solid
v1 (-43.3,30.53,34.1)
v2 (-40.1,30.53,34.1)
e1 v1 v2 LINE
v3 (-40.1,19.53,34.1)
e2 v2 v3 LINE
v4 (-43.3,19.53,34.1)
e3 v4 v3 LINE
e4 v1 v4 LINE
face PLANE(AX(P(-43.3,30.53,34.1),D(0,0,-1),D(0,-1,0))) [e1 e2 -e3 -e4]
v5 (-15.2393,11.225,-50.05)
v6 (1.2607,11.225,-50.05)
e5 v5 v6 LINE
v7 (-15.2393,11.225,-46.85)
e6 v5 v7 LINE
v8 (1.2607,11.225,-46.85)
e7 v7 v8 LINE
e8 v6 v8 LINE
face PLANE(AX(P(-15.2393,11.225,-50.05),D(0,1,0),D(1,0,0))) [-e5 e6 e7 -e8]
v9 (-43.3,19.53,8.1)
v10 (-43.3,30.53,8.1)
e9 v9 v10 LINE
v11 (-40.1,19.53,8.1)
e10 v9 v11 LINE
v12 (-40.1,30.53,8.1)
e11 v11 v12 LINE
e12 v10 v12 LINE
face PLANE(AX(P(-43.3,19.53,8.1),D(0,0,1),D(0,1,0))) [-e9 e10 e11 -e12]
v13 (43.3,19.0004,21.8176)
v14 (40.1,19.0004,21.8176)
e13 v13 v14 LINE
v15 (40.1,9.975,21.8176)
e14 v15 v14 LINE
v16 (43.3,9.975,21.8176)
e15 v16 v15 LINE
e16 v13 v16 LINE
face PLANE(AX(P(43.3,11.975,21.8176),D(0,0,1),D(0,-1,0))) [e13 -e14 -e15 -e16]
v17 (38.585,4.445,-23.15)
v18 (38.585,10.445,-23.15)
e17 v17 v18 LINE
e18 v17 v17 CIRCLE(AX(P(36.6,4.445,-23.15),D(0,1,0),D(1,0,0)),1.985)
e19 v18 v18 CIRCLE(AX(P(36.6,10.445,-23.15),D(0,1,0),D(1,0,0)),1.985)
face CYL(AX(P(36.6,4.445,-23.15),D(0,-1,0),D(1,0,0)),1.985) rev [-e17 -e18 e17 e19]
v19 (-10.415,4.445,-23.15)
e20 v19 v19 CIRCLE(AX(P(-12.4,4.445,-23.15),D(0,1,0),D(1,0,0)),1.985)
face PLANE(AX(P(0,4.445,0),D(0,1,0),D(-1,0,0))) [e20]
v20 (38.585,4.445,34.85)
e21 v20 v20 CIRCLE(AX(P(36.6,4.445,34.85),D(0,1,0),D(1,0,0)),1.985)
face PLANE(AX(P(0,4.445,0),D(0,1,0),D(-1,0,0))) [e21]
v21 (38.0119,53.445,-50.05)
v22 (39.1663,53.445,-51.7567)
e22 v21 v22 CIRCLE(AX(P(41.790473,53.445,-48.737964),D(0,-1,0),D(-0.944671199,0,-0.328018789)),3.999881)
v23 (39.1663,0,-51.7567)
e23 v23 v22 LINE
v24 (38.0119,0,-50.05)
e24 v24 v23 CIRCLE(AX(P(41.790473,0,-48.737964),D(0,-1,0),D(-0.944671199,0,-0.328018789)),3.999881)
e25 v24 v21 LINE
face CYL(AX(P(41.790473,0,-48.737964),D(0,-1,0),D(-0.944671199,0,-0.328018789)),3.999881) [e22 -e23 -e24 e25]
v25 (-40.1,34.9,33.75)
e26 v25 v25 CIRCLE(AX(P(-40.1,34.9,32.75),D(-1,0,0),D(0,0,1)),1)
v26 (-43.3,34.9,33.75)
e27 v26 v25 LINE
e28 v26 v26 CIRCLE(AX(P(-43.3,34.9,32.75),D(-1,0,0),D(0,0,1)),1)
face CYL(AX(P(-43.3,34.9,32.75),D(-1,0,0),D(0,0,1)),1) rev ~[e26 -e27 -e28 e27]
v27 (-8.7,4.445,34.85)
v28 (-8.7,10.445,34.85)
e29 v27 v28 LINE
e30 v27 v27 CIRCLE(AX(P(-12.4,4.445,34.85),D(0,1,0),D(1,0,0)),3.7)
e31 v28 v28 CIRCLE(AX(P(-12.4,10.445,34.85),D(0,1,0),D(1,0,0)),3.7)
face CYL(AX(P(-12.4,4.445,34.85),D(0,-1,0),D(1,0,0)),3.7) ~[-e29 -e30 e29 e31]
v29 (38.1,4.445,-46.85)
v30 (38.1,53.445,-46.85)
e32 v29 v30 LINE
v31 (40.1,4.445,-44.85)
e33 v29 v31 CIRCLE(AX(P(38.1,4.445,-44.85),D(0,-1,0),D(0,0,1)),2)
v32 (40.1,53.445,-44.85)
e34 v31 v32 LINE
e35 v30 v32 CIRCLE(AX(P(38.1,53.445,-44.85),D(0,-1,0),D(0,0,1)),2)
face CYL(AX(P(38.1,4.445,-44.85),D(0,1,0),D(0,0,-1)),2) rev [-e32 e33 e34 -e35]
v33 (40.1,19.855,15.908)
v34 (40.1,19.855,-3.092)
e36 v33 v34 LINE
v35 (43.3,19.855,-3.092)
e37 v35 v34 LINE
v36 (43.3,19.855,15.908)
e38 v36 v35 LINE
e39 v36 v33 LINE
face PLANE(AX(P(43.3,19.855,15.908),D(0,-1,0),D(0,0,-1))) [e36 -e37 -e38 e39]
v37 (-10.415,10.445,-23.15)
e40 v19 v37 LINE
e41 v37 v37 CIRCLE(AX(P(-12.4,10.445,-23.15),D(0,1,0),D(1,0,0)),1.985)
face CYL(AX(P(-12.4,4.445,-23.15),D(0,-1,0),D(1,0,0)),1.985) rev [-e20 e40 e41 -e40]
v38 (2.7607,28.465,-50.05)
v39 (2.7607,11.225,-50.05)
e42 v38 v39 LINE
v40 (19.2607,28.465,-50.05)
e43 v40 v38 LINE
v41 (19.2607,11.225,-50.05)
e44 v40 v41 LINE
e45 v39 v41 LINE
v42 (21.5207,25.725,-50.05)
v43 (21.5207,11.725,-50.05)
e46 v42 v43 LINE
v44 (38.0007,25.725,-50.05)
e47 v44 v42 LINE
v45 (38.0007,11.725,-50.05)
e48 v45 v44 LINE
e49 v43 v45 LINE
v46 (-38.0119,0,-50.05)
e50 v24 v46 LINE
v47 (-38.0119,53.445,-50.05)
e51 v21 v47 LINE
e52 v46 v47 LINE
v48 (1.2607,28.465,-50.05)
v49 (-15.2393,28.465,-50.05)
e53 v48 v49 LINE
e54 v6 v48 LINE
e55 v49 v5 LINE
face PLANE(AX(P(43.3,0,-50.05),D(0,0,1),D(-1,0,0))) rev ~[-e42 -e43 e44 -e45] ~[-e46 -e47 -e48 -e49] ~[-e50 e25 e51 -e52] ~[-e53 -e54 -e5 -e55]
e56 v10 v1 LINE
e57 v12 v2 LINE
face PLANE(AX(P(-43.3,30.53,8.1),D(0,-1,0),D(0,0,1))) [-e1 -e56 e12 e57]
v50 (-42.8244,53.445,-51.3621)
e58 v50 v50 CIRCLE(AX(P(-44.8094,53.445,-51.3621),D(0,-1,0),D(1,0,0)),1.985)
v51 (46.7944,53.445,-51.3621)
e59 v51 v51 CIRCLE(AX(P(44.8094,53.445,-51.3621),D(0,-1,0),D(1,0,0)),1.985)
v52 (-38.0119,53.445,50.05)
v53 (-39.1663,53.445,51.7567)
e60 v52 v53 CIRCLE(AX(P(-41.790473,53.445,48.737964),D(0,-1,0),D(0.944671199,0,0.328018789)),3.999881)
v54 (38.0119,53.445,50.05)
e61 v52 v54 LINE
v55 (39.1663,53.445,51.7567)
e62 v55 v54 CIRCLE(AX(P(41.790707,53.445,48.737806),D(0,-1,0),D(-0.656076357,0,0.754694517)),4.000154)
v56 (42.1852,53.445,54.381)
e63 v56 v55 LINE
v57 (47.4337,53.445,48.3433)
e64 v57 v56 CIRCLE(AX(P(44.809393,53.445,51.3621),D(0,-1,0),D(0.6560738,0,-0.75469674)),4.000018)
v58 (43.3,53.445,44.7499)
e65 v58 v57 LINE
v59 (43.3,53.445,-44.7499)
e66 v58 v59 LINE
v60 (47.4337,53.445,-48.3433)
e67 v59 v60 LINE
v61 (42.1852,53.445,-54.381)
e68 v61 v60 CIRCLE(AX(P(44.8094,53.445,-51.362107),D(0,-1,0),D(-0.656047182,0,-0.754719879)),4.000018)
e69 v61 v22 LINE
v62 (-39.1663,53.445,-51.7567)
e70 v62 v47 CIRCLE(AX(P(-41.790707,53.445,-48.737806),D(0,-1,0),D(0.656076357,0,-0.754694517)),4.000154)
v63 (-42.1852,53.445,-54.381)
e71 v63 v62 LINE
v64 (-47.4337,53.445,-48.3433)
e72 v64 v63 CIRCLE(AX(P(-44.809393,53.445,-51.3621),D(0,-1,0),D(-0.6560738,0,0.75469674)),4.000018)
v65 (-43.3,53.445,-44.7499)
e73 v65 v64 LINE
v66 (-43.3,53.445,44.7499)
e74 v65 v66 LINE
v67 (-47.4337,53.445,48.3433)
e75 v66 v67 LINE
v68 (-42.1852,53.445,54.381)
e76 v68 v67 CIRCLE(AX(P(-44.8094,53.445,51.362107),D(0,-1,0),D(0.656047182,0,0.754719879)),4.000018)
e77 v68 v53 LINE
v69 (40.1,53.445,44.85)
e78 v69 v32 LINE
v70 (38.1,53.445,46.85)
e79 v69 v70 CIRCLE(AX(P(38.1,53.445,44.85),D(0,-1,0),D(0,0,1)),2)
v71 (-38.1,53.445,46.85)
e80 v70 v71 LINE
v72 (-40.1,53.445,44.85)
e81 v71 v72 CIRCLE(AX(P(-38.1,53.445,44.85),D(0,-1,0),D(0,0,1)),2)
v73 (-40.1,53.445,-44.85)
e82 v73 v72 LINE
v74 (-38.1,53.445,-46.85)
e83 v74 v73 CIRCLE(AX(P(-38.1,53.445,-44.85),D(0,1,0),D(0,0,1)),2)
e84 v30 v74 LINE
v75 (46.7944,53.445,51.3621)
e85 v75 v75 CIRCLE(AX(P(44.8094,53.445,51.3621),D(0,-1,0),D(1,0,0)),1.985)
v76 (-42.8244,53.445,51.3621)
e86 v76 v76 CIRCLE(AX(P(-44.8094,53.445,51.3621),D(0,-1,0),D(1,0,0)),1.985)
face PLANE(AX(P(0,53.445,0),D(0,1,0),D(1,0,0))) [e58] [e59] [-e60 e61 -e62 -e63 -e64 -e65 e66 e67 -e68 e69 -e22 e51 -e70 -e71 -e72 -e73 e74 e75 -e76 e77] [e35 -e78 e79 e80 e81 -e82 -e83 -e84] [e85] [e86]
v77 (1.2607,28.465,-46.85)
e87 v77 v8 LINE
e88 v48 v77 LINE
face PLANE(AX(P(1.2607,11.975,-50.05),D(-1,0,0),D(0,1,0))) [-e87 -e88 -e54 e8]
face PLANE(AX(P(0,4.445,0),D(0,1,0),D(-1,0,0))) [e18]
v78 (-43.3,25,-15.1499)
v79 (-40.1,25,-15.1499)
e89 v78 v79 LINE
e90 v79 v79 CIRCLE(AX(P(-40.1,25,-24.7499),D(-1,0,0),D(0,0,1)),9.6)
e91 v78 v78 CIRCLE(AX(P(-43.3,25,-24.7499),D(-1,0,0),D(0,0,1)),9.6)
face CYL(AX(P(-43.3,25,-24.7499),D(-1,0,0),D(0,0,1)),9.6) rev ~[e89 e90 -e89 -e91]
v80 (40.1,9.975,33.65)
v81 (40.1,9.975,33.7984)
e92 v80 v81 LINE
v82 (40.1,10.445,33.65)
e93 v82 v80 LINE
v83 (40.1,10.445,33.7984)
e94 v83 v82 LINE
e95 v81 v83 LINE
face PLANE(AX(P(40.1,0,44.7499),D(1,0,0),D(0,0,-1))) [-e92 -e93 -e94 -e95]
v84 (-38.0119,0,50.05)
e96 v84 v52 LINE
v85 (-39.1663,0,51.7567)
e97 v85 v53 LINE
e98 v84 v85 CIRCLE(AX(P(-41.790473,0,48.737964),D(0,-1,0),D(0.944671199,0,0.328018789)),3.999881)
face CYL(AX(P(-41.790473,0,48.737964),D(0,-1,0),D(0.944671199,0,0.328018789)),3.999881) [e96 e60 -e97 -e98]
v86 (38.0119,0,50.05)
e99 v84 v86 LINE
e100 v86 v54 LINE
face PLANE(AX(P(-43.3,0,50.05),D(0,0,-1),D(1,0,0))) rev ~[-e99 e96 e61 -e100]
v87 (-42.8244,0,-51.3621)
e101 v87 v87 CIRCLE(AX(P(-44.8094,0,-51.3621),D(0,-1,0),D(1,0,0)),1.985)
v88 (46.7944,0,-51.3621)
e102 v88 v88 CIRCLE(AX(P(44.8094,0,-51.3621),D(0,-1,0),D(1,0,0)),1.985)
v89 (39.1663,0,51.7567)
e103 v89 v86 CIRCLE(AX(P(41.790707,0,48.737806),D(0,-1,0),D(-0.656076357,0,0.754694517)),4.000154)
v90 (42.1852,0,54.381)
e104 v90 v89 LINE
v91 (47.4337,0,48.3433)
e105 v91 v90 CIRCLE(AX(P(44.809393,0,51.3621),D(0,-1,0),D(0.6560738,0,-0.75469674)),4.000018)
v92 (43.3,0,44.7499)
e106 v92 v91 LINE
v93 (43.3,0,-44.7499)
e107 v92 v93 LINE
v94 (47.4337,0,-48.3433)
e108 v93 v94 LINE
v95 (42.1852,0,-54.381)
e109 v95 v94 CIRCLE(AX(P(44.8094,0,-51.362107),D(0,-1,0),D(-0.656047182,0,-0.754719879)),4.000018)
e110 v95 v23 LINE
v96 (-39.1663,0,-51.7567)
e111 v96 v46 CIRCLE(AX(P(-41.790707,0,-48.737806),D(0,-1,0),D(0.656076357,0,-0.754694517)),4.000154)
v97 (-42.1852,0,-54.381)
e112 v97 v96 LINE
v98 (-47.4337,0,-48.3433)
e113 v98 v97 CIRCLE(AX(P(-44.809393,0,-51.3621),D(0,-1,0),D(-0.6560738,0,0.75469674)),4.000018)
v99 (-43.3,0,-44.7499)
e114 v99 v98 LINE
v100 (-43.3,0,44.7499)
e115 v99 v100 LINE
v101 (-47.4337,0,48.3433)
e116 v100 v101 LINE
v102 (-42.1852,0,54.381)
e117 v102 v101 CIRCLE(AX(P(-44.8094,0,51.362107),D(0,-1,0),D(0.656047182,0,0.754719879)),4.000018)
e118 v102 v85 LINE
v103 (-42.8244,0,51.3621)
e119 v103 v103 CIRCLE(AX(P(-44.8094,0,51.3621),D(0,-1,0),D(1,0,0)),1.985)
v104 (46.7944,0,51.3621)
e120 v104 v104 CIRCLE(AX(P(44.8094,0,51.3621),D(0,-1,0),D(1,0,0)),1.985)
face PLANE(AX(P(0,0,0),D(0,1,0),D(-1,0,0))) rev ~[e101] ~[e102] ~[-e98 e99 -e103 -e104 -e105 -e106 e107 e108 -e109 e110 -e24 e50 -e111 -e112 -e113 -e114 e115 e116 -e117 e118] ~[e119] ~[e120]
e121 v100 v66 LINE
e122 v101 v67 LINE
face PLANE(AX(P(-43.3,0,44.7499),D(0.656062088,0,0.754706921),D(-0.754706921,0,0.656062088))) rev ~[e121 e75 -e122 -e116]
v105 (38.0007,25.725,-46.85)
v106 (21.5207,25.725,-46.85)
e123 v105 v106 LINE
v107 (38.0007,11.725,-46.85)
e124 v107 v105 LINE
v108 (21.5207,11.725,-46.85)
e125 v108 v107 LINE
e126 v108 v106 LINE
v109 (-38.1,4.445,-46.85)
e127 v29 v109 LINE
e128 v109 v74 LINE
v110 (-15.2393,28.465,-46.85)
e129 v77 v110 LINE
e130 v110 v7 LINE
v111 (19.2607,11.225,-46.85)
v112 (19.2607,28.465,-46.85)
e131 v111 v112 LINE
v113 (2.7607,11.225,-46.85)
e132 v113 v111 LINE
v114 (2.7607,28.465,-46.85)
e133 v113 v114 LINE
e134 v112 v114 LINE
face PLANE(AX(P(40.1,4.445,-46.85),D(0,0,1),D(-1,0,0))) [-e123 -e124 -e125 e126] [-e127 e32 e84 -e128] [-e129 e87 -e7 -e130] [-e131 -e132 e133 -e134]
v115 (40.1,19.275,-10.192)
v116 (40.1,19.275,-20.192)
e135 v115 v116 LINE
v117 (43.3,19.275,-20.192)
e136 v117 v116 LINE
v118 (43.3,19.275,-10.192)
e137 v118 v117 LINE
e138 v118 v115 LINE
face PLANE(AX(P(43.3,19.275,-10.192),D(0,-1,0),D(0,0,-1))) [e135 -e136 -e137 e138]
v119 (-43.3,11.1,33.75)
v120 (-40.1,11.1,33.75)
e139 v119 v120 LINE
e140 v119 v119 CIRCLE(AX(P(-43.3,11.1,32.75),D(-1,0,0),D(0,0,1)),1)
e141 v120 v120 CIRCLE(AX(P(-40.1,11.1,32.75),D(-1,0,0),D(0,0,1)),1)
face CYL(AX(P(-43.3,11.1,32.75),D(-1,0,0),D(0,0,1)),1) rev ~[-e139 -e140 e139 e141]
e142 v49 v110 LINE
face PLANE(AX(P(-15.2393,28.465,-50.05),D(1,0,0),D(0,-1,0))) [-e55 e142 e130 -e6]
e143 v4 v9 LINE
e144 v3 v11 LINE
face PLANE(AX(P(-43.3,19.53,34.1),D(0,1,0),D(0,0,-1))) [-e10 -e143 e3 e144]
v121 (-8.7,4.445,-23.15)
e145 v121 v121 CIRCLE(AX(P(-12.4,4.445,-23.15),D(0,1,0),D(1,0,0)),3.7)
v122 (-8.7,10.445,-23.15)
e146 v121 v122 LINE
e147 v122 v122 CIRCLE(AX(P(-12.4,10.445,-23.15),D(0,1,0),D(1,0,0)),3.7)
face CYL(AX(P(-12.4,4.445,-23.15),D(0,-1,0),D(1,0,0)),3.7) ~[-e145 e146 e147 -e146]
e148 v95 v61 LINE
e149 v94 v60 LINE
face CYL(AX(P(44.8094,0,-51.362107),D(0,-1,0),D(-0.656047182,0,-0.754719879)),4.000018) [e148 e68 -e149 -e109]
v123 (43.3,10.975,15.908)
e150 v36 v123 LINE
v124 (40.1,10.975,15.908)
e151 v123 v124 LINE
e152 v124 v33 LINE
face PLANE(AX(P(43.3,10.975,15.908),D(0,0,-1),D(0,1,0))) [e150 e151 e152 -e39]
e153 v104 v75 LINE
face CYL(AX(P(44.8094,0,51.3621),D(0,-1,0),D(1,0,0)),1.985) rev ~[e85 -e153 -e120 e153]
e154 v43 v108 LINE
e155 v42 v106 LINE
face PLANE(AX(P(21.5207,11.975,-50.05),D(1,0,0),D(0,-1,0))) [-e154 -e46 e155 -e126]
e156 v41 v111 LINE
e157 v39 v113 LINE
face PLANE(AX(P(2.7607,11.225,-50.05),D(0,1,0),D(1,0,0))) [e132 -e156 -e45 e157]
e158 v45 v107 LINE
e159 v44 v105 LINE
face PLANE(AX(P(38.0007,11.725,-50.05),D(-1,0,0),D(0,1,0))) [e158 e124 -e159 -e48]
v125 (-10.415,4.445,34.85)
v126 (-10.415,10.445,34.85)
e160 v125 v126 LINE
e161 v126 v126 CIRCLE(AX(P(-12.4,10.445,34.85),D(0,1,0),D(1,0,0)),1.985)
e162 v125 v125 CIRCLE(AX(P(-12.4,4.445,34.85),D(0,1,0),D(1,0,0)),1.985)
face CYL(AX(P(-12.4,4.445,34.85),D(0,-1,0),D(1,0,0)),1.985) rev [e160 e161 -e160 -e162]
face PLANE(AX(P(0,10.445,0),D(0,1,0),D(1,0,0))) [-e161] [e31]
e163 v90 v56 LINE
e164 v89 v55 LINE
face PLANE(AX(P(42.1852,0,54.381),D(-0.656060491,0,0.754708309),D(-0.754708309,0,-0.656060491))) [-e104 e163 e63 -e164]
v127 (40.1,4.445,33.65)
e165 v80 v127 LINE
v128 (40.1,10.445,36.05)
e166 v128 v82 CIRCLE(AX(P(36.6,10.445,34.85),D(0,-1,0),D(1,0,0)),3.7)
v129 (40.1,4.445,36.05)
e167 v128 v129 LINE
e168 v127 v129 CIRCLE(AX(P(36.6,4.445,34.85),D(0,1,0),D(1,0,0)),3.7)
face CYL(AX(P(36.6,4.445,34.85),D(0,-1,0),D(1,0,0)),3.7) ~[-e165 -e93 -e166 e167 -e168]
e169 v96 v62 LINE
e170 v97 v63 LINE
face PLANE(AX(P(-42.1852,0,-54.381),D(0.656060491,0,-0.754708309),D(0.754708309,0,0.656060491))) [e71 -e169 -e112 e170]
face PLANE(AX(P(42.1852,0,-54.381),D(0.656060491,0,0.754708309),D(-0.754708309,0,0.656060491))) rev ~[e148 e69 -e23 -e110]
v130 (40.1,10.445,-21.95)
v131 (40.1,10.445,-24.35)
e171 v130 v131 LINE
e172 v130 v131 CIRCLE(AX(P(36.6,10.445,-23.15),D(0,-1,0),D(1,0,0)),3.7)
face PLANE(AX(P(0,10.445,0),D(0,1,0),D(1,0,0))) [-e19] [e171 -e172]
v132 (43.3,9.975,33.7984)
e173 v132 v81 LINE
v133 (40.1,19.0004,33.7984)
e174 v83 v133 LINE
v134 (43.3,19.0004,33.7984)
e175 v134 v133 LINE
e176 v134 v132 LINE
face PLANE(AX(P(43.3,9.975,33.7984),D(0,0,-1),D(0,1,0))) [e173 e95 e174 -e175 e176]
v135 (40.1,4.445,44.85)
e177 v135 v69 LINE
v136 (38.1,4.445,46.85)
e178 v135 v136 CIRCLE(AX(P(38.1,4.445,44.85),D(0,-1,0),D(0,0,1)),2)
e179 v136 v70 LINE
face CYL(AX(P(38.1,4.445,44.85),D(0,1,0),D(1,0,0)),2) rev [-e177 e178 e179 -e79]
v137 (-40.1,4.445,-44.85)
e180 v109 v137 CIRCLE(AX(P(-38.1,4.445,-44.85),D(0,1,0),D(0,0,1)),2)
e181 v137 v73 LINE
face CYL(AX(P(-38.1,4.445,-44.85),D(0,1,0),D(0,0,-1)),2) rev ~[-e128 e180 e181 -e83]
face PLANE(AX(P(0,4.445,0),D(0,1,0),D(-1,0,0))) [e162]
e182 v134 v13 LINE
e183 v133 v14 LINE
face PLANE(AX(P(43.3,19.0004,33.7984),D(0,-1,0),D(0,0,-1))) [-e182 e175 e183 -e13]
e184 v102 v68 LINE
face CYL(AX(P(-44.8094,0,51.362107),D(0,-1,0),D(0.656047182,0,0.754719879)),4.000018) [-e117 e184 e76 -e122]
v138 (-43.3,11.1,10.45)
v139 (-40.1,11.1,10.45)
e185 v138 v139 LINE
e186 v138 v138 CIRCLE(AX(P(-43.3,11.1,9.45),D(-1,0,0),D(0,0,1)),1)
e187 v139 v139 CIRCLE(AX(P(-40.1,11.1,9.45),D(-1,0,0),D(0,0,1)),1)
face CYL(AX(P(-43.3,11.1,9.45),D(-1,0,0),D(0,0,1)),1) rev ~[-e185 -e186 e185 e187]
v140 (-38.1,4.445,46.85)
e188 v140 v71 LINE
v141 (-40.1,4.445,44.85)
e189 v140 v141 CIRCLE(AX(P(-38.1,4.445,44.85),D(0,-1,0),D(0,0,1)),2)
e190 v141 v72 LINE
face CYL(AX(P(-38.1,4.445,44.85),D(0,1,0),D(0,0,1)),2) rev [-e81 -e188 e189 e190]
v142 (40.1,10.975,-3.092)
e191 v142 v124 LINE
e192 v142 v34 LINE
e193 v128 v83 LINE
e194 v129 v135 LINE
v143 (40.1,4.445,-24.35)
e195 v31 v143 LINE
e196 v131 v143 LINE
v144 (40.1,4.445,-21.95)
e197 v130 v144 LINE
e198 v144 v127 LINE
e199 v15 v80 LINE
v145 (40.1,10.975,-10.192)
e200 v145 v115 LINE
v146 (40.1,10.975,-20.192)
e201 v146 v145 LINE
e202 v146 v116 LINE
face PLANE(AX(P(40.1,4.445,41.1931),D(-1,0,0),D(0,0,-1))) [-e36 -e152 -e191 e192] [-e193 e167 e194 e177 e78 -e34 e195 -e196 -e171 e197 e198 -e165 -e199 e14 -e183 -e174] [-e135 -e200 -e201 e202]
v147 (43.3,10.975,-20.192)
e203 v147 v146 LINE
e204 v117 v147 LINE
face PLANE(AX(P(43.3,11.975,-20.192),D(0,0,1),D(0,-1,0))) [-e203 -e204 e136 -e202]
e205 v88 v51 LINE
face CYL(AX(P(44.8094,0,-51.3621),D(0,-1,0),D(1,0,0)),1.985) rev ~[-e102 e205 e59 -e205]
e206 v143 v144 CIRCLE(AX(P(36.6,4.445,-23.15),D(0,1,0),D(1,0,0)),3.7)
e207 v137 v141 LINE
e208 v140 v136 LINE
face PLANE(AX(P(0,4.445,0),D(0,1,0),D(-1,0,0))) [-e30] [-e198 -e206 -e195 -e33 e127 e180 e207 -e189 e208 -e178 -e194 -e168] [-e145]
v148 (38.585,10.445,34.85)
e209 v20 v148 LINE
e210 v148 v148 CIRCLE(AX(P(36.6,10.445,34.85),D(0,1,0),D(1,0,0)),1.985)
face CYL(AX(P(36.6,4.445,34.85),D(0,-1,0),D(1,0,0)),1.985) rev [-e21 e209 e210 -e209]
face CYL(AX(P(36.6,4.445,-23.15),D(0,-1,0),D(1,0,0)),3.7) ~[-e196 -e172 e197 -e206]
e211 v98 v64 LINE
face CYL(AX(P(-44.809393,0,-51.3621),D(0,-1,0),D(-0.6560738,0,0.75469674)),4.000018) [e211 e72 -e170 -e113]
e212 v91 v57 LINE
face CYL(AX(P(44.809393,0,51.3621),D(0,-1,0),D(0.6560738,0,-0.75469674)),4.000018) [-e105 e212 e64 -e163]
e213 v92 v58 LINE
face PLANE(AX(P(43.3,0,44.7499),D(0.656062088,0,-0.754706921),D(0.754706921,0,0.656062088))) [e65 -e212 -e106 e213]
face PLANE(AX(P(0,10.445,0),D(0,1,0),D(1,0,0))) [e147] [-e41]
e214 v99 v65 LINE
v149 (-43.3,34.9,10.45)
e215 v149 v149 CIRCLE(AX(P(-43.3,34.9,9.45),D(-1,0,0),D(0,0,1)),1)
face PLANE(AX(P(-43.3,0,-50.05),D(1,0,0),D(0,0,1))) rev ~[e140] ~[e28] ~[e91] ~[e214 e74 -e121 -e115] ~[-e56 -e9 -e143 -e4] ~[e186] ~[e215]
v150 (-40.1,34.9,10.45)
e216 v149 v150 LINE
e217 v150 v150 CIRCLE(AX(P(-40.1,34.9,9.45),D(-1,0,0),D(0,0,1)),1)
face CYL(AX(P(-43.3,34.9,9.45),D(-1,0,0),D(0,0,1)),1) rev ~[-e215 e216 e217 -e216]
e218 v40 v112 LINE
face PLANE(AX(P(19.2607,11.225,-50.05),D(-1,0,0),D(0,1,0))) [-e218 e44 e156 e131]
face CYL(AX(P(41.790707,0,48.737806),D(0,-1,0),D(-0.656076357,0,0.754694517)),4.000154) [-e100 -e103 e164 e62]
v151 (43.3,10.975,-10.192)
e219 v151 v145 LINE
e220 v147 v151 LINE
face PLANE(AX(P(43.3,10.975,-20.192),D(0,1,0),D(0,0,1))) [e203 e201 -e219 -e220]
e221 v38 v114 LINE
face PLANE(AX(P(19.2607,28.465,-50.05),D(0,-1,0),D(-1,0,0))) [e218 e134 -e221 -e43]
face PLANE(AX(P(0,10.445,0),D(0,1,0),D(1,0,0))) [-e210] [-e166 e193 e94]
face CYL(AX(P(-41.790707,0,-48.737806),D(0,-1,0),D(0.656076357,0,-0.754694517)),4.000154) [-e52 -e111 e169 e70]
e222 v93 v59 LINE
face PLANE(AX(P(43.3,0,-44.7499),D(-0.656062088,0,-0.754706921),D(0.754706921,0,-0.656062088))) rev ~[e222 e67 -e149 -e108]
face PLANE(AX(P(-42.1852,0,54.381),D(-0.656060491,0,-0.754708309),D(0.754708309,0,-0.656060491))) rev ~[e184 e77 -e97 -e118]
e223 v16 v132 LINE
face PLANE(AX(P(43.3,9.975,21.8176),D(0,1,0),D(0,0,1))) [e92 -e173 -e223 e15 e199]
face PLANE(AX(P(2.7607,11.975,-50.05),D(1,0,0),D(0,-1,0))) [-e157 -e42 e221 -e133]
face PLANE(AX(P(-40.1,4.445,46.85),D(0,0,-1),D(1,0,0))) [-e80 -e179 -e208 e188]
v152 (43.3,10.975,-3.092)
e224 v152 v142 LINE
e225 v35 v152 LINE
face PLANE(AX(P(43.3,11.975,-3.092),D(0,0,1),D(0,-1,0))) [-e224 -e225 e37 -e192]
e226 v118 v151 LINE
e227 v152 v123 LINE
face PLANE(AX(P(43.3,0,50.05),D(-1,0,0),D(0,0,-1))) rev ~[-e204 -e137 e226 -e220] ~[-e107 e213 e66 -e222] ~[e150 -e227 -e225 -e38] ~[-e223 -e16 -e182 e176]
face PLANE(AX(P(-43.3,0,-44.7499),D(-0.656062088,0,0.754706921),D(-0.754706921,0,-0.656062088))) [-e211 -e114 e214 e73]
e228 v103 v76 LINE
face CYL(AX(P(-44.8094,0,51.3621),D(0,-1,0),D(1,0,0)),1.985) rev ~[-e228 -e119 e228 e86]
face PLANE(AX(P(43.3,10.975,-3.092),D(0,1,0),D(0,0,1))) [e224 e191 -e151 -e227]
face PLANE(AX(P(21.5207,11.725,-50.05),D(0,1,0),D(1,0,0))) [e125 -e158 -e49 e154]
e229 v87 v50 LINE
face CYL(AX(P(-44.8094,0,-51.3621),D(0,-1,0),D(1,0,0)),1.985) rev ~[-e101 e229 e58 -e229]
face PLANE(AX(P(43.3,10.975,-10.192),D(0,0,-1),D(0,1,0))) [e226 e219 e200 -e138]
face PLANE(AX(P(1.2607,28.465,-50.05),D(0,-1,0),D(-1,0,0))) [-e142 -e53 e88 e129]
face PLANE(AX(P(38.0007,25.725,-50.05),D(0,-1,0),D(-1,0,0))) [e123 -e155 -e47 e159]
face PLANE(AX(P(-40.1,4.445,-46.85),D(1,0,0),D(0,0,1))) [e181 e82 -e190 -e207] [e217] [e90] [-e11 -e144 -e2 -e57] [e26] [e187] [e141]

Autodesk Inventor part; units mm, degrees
ref_plane "YZ Plane" through (0, 0, 0) normal (1, 0, 0) x (0, 1, 0)
ref_plane "XZ Plane" through (0, 0, 0) normal (0, 1, 0) x (-1, 0, 0)
ref_plane "XY Plane" through (0, 0, 0) normal (0, 0, 1) x (1, 0, 0)
sketch "Sketch1" plane through (0, 0, 0) normal (0, 1, 0) x (-1, 0, 0)
  line L0 (-43.3, -50.05) -> (43.3, -50.05)
  line L1 (43.3, -50.05) -> (43.3, 50.05)
  line L2 (43.3, 50.05) -> (-43.3, 50.05)
  line L3 (-43.3, 50.05) -> (-43.3, -50.05)
  line L4 (-43.3, -50.05) -> (43.3, 50.05) construction
  line L5 (43.3, -50.05) -> (-43.3, 50.05) construction
  point P0 (0, 0)
  dimension "d0" = 86.6
  dimension "d1" = 100.1
extrude "Extrusion1" add sketch "Sketch1" along normal blind 4.445
sketch "Sketch2" plane through (0, 4.445, 0) normal (0, 1, 0) x (1, 0, 0)
  line L0 (40.1, 46.85) -> (-40.1, 46.85)
  line L1 (-40.1, 46.85) -> (-40.1, -46.85)
  line L2 (-40.1, -46.85) -> (40.1, -46.85)
  line L3 (40.1, -46.85) -> (40.1, 46.85)
  line L4 (40.1, 46.85) -> (-40.1, -46.85) construction
  line L5 (-40.1, 46.85) -> (40.1, -46.85) construction
  line L6 (-43.3, 50.05) -> (-43.3, -50.05) projected
  line L7 (-43.3, -50.05) -> (43.3, -50.05) projected
  line L8 (43.3, 50.05) -> (-43.3, 50.05) projected
  line L9 (43.3, -50.05) -> (43.3, 50.05) projected
  line L10 (36.9, -43.65) -> (43.3, -50.05) construction
  line L11 (34.4431, -46.85) -> (40.4716, -52.8784)
  line L12 (46.1284, -47.2216) -> (40.1, -41.1931)
  arc A0 (40.4716, -52.8784) -> (46.1284, -47.2216) centre (43.3, -50.05) ccw
  circle A1 centre (43.3, -50.05) radius 1.375
  point P0 (0, 0)
  dimension "d4" = 3.2
  dimension "d5" = 3.2
  dimension "d22" = 8
  dimension "d23" = 2.75
extrude "Extrusion2" add sketch "Sketch2" along normal blind 49 contours L0 L1 L2 L11 L7 L6 L8 L9 L12 L3 | L12 L9 A1 L7 L11 L2 L3 | L9 L7 A1 picked at (42.4402, -49.7491)
sketch "Sketch4" plane through (0, 0, 0) normal (0, -1, 0) x (1, 0, 0)
  line L0 (41.7906, 48.7379) -> (44.8094, 51.3621) construction
  line L1 (43.3, 50.05) -> (43.3, -50.05) projected
  line L2 (43.3, 44.7499) -> (47.4337, 48.3433)
  line L3 (42.1852, 54.381) -> (39.1663, 51.7567)
  arc A0 (39.1663, 51.7567) -> (38.0119, 50.05) centre (41.7906, 48.7379) ccw
  arc A1 (47.4337, 48.3433) -> (42.1852, 54.381) centre (44.8094, 51.3621) ccw
  line L4 (-43.3, 50.05) -> (43.3, 50.05) projected
  line L5 (38.0119, 50.05) -> (43.3, 50.05)
  line L6 (43.3, 50.05) -> (43.3, 44.7499)
  circle A2 centre (44.8094, 51.3621) radius 1.985
  line L7 (0, 50.05) -> (0, -50.05) construction
  line L8 (43.3, -50.05) -> (-43.3, -50.05) construction
  line L9 (43.3, 0) -> (-33.3, 0) construction
  line L10 (43.3, -50.05) -> (43.3, 50.05)
  line L11 (43.3, -44.7499) -> (47.4337, -48.3433)
  line L12 (42.1852, -54.381) -> (39.1663, -51.7567)
  arc A3 (38.0119, -50.05) -> (39.1663, -51.7567) centre (41.7906, -48.7379) ccw
  arc A4 (42.1852, -54.381) -> (47.4337, -48.3433) centre (44.8094, -51.3621) ccw
  line L13 (-43.3, -50.05) -> (43.3, -50.05)
  circle A5 centre (44.8094, -51.3621) radius 1.985
  line L14 (-43.3, 50.05) -> (-43.3, -50.05)
  line L15 (-43.3, 44.7499) -> (-47.4337, 48.3433)
  line L16 (-42.1852, 54.381) -> (-39.1663, 51.7567)
  arc A6 (-38.0119, 50.05) -> (-39.1663, 51.7567) centre (-41.7906, 48.7379) ccw
  arc A7 (-42.1852, 54.381) -> (-47.4337, 48.3433) centre (-44.8094, 51.3621) ccw
  line L17 (-38.0119, 50.05) -> (-43.3, 50.05)
  circle A8 centre (-44.8094, 51.3621) radius 1.985
  arc A9 (-47.4337, -48.3433) -> (-42.1852, -54.381) centre (-44.8094, -51.3621) ccw
  line L18 (-43.3, -44.7499) -> (-47.4337, -48.3433)
  line L19 (-42.1852, -54.381) -> (-39.1663, -51.7567)
  arc A10 (-39.1663, -51.7567) -> (-38.0119, -50.05) centre (-41.7906, -48.7379) ccw
  circle A11 centre (-44.8094, -51.3621) radius 1.985
  line L20 (-38.0119, -50.05) -> (-43.3, -50.05)
  line L21 (-43.3, -50.05) -> (-43.3, 50.05)
  point P0 (0, 0)
  point P1 (-38.0119, -50.05)
  point P2 (-43.3, -44.7499)
  point P3 (-38.0119, 50.05)
  point P4 (43.3, -44.7499)
  point P5 (43.3, -50.05)
  dimension "d24" = 2
  dimension "d25" = 8
  dimension "d26" = 131
  dimension "d27" = 3.97
extrude "Extrusion4" add sketch "Sketch4" against normal up to surface (53.445 mm away) contours L4 A0 L3 A1 L2 L1 | L11 A4 L12 A3 L13 L1 | L4 L14 L15 A7 L16 A6 | A10 L19 A9 L18 L14 L13
fillet "Fillet2" radius 2 4 edges at (40.1, 28.945, -46.85) (-40.1, 28.945, -46.85) (-40.1, 28.945, 46.85) (40.1, 28.945, 46.85)
sketch "Sketch14" plane through (0, 4.445, 0) normal (0, 1, 0) x (1, 0, 0)
  circle A0 centre (36.6, -34.85) radius 3.7
  circle A1 centre (36.6, -34.85) radius 1.985
  line L0 (38.1, -46.85) -> (-38.1, -46.85) projected
  line L1 (40.1, 44.85) -> (40.1, -44.85) projected
  line L2 (-38.1, -46.85) -> (38.1, -46.85) construction
  line L3 (0, -46.85) -> (0, 50.05) construction
  line L4 (38.0119, 50.05) -> (-38.0119, 50.05) construction
  circle A2 centre (36.6, 23.15) radius 3.7
  circle A3 centre (36.6, 23.15) radius 1.985
  line L5 (-40.1, 44.85) -> (-40.1, -44.85) construction
  line L6 (-40.1, 0) -> (40.1, 0) construction
  line L7 (40.1, -44.85) -> (40.1, 44.85) construction
  circle A4 centre (-12.4, -34.85) radius 3.7
  circle A5 centre (-12.4, -34.85) radius 1.985
  circle A6 centre (-12.4, 23.15) radius 1.985
  circle A7 centre (-12.4, 23.15) radius 3.7
  point P0 (0, 0)
  dimension "d114" = 7.4
  dimension "d115" = 3.97
  dimension "d116" = 12
  dimension "d117" = 3.5
  dimension "d120" = 58
  dimension "d127" = 49
sketch "Sketch15" plane through (0, 4.445, 0) normal (0, 1, 0) x (1, 0, 0)
  point P0 (0, 0)
extrude "Extrusion10" add sketch "Sketch14" along normal blind 6
sketch "Sketch16" plane through (43.3, 0, 44.7499) normal (1, 0, 0) x (0, 0, -1)
  line L0 (12.9515, 13.2621) -> (12.9515, 13.455) projected
  line L1 (20.9323, 13.455) -> (20.9323, 13.2621) projected
  line L2 (13.9419, 14.5004) -> (19.9419, 14.5004) projected
  line L3 (88.3241, 11.975) -> (9.3999, 11.975) projected
  line L4 (22.9323, 9.975) -> (10.9515, 9.975)
  line L5 (10.9515, 9.975) -> (10.9515, 19.0004)
  line L6 (10.9515, 19.0004) -> (22.9323, 19.0004)
  line L7 (22.9323, 19.0004) -> (22.9323, 9.975)
  line L8 (30.8419, 17.055) -> (30.8419, 14.5766) projected
  line L9 (45.8419, 14.5766) -> (45.8419, 17.055) projected
  line L10 (45.0419, 17.855) -> (31.6419, 17.855) projected
  line L11 (47.8419, 10.975) -> (28.8419, 10.975)
  line L12 (28.8419, 10.975) -> (28.8419, 19.855)
  line L13 (28.8419, 19.855) -> (47.8419, 19.855)
  line L14 (47.8419, 19.855) -> (47.8419, 10.975)
  line L15 (56.4419, 17.775) -> (56.4419, 11.775) projected
  line L16 (63.4419, 11.775) -> (63.4419, 17.775) projected
  line L17 (63.4419, 17.775) -> (59.9419, 17.775) projected
  line L18 (59.9419, 17.775) -> (56.4419, 17.775) projected
  line L19 (64.9419, 10.975) -> (54.9419, 10.975)
  line L20 (54.9419, 10.975) -> (54.9419, 19.275)
  line L21 (54.9419, 19.275) -> (64.9419, 19.275)
  line L22 (64.9419, 19.275) -> (64.9419, 10.975)
  point P0 (44.7499, 0)
  dimension "d134" = 4.5
  dimension "d135" = 2
  dimension "d136" = 2
  dimension "d137" = 2
  dimension "d138" = 2
  dimension "d139" = 1
  dimension "d140" = 2
  dimension "d141" = 2
  dimension "d142" = 1
  dimension "d143" = 1.5
  dimension "d144" = 1.5
  dimension "d145" = 1.5
extrude "Extrusion11" cut sketch "Sketch16" against normal up to surface (3.2 mm away)
sketch "Sketch17" plane through (38.0119, 0, -50.05) normal (0, 0, -1) x (-1, 0, 0)
  line L0 (16.1912, 11.975) -> (16.1912, 25.475) projected
  line L1 (0.3112, 11.975) -> (0.3112, 25.475) projected
  line L2 (0.3112, 25.475) -> (16.1912, 25.475) projected
  line L3 (50.9119, 11.975) -> (0.9119, 11.975) projected
  line L4 (16.4912, 11.725) -> (0.0112, 11.725)
  line L5 (0.0112, 11.725) -> (0.0112, 25.725)
  line L6 (0.0112, 25.725) -> (16.4912, 25.725)
  line L7 (16.4912, 25.725) -> (16.4912, 11.725)
  line L8 (19.4512, 18.7546) -> (19.4512, 21.7546) projected
  line L9 (34.5512, 21.7546) -> (34.5512, 18.7546) projected
  line L10 (24.0012, 27.465) -> (30.0012, 27.465) projected
  line L11 (35.2512, 11.225) -> (18.7512, 11.225)
  line L12 (18.7512, 11.225) -> (18.7512, 28.465)
  line L13 (18.7512, 28.465) -> (35.2512, 28.465)
  line L14 (35.2512, 28.465) -> (35.2512, 11.225)
  line L15 (37.4512, 18.7546) -> (37.4512, 21.7546) projected
  line L16 (52.5512, 21.7546) -> (52.5512, 18.7546) projected
  line L17 (42.0012, 27.465) -> (48.0012, 27.465) projected
  line L18 (53.2512, 11.225) -> (36.7512, 11.225)
  line L19 (36.7512, 11.225) -> (36.7512, 28.465)
  line L20 (36.7512, 28.465) -> (53.2512, 28.465)
  line L21 (53.2512, 28.465) -> (53.2512, 11.225)
  point P0 (38.0119, 0)
  point P1 (18.7512, 11.975)
  point P2 (35.2512, 11.975)
  dimension "d148" = 0.3
  dimension "d149" = 0.3
  dimension "d150" = 0.25
  dimension "d151" = 0.25
  dimension "d154" = 0.7
  dimension "d155" = 0.7
  dimension "d156" = 1
  dimension "d157" = 0.75
  dimension "d158" = 1
  dimension "d159" = 0.7
  dimension "d160" = 0.7
  dimension "d161" = 0.75
extrude "Extrusion12" cut sketch "Sketch17" against normal up to surface (3.2 mm away)
sketch "Sketch19" plane through (-43.3, 0, -44.7499) normal (-1, 0, 0) x (0, 0, 1)
  circle A0 centre (20, 25) radius 9.6
  line L0 (0, 53.445) -> (0, 0) projected
  line L1 (0, 0) -> (89.4999, 0) projected
  point P0 (44.7499, 0)
  dimension "d162" = 19.2
  dimension "d163" = 20
  dimension "d164" = 25
extrude "Extrusion13" cut sketch "Sketch19" against normal up to surface (3.2 mm away)
sketch "Sketch23" plane through (-43.3, 0, -44.7499) normal (-1, 0, 0) x (0, 0, 1)
  line L0 (52.1999, 9.1) -> (79.4999, 9.1)
  line L1 (79.4999, 9.1) -> (79.4999, 36.9)
  line L2 (79.4999, 36.9) -> (52.1999, 36.9)
  line L3 (52.1999, 36.9) -> (52.1999, 9.1)
  line L4 (89.4999, 0) -> (89.4999, 53.445) projected
  line L5 (0, 0) -> (89.4999, 0) projected
  circle A0 centre (54.1999, 34.9) radius 1
  line L6 (65.8499, 36.9) -> (65.8499, 9.1) construction
  line L7 (52.1999, 23) -> (79.4999, 23) construction
  circle A1 centre (77.4999, 34.9) radius 1
  circle A2 centre (54.1999, 11.1) radius 1
  circle A3 centre (77.4999, 11.1) radius 1
  line L8 (78.8499, 19.53) -> (52.8499, 19.53)
  line L9 (52.8499, 19.53) -> (52.8499, 30.53)
  line L10 (52.8499, 30.53) -> (78.8499, 30.53)
  line L11 (78.8499, 30.53) -> (78.8499, 19.53)
  line L12 (78.8499, 19.53) -> (52.8499, 30.53) construction
  line L13 (52.8499, 19.53) -> (78.8499, 30.53) construction
  line L14 (79.1999, 13.37) -> (52.4999, 13.37)
  line L15 (52.4999, 13.37) -> (52.4999, 32.63)
  line L16 (52.4999, 32.63) -> (79.1999, 32.63)
  line L17 (79.1999, 32.63) -> (79.1999, 13.37)
  line L18 (79.1999, 13.37) -> (52.4999, 32.63) construction
  line L19 (52.4999, 13.37) -> (79.1999, 32.63) construction
  point P0 (44.7499, 0)
  point P1 (65.8499, 25.03)
  point P2 (65.8499, 23)
  dimension "d208" = 27.3
  dimension "d209" = 27.8
  dimension "d210" = 10
  dimension "d212" = 2
  dimension "d213" = 2
  dimension "d214" = 2
  dimension "d215" = 26
  dimension "d216" = 11
  dimension "d217" = 6.37
  dimension "d218" = 26.7
  dimension "d219" = 19.26
  dimension "d220" = 4.27
  dimension "d223" = 23
extrude "Extrusion17" cut sketch "Sketch23" against normal up to surface (3.2 mm away) contours A0 | A1 | A2 | A3 | L8 L9 L10 L11
properties part number "_3DPrint"
